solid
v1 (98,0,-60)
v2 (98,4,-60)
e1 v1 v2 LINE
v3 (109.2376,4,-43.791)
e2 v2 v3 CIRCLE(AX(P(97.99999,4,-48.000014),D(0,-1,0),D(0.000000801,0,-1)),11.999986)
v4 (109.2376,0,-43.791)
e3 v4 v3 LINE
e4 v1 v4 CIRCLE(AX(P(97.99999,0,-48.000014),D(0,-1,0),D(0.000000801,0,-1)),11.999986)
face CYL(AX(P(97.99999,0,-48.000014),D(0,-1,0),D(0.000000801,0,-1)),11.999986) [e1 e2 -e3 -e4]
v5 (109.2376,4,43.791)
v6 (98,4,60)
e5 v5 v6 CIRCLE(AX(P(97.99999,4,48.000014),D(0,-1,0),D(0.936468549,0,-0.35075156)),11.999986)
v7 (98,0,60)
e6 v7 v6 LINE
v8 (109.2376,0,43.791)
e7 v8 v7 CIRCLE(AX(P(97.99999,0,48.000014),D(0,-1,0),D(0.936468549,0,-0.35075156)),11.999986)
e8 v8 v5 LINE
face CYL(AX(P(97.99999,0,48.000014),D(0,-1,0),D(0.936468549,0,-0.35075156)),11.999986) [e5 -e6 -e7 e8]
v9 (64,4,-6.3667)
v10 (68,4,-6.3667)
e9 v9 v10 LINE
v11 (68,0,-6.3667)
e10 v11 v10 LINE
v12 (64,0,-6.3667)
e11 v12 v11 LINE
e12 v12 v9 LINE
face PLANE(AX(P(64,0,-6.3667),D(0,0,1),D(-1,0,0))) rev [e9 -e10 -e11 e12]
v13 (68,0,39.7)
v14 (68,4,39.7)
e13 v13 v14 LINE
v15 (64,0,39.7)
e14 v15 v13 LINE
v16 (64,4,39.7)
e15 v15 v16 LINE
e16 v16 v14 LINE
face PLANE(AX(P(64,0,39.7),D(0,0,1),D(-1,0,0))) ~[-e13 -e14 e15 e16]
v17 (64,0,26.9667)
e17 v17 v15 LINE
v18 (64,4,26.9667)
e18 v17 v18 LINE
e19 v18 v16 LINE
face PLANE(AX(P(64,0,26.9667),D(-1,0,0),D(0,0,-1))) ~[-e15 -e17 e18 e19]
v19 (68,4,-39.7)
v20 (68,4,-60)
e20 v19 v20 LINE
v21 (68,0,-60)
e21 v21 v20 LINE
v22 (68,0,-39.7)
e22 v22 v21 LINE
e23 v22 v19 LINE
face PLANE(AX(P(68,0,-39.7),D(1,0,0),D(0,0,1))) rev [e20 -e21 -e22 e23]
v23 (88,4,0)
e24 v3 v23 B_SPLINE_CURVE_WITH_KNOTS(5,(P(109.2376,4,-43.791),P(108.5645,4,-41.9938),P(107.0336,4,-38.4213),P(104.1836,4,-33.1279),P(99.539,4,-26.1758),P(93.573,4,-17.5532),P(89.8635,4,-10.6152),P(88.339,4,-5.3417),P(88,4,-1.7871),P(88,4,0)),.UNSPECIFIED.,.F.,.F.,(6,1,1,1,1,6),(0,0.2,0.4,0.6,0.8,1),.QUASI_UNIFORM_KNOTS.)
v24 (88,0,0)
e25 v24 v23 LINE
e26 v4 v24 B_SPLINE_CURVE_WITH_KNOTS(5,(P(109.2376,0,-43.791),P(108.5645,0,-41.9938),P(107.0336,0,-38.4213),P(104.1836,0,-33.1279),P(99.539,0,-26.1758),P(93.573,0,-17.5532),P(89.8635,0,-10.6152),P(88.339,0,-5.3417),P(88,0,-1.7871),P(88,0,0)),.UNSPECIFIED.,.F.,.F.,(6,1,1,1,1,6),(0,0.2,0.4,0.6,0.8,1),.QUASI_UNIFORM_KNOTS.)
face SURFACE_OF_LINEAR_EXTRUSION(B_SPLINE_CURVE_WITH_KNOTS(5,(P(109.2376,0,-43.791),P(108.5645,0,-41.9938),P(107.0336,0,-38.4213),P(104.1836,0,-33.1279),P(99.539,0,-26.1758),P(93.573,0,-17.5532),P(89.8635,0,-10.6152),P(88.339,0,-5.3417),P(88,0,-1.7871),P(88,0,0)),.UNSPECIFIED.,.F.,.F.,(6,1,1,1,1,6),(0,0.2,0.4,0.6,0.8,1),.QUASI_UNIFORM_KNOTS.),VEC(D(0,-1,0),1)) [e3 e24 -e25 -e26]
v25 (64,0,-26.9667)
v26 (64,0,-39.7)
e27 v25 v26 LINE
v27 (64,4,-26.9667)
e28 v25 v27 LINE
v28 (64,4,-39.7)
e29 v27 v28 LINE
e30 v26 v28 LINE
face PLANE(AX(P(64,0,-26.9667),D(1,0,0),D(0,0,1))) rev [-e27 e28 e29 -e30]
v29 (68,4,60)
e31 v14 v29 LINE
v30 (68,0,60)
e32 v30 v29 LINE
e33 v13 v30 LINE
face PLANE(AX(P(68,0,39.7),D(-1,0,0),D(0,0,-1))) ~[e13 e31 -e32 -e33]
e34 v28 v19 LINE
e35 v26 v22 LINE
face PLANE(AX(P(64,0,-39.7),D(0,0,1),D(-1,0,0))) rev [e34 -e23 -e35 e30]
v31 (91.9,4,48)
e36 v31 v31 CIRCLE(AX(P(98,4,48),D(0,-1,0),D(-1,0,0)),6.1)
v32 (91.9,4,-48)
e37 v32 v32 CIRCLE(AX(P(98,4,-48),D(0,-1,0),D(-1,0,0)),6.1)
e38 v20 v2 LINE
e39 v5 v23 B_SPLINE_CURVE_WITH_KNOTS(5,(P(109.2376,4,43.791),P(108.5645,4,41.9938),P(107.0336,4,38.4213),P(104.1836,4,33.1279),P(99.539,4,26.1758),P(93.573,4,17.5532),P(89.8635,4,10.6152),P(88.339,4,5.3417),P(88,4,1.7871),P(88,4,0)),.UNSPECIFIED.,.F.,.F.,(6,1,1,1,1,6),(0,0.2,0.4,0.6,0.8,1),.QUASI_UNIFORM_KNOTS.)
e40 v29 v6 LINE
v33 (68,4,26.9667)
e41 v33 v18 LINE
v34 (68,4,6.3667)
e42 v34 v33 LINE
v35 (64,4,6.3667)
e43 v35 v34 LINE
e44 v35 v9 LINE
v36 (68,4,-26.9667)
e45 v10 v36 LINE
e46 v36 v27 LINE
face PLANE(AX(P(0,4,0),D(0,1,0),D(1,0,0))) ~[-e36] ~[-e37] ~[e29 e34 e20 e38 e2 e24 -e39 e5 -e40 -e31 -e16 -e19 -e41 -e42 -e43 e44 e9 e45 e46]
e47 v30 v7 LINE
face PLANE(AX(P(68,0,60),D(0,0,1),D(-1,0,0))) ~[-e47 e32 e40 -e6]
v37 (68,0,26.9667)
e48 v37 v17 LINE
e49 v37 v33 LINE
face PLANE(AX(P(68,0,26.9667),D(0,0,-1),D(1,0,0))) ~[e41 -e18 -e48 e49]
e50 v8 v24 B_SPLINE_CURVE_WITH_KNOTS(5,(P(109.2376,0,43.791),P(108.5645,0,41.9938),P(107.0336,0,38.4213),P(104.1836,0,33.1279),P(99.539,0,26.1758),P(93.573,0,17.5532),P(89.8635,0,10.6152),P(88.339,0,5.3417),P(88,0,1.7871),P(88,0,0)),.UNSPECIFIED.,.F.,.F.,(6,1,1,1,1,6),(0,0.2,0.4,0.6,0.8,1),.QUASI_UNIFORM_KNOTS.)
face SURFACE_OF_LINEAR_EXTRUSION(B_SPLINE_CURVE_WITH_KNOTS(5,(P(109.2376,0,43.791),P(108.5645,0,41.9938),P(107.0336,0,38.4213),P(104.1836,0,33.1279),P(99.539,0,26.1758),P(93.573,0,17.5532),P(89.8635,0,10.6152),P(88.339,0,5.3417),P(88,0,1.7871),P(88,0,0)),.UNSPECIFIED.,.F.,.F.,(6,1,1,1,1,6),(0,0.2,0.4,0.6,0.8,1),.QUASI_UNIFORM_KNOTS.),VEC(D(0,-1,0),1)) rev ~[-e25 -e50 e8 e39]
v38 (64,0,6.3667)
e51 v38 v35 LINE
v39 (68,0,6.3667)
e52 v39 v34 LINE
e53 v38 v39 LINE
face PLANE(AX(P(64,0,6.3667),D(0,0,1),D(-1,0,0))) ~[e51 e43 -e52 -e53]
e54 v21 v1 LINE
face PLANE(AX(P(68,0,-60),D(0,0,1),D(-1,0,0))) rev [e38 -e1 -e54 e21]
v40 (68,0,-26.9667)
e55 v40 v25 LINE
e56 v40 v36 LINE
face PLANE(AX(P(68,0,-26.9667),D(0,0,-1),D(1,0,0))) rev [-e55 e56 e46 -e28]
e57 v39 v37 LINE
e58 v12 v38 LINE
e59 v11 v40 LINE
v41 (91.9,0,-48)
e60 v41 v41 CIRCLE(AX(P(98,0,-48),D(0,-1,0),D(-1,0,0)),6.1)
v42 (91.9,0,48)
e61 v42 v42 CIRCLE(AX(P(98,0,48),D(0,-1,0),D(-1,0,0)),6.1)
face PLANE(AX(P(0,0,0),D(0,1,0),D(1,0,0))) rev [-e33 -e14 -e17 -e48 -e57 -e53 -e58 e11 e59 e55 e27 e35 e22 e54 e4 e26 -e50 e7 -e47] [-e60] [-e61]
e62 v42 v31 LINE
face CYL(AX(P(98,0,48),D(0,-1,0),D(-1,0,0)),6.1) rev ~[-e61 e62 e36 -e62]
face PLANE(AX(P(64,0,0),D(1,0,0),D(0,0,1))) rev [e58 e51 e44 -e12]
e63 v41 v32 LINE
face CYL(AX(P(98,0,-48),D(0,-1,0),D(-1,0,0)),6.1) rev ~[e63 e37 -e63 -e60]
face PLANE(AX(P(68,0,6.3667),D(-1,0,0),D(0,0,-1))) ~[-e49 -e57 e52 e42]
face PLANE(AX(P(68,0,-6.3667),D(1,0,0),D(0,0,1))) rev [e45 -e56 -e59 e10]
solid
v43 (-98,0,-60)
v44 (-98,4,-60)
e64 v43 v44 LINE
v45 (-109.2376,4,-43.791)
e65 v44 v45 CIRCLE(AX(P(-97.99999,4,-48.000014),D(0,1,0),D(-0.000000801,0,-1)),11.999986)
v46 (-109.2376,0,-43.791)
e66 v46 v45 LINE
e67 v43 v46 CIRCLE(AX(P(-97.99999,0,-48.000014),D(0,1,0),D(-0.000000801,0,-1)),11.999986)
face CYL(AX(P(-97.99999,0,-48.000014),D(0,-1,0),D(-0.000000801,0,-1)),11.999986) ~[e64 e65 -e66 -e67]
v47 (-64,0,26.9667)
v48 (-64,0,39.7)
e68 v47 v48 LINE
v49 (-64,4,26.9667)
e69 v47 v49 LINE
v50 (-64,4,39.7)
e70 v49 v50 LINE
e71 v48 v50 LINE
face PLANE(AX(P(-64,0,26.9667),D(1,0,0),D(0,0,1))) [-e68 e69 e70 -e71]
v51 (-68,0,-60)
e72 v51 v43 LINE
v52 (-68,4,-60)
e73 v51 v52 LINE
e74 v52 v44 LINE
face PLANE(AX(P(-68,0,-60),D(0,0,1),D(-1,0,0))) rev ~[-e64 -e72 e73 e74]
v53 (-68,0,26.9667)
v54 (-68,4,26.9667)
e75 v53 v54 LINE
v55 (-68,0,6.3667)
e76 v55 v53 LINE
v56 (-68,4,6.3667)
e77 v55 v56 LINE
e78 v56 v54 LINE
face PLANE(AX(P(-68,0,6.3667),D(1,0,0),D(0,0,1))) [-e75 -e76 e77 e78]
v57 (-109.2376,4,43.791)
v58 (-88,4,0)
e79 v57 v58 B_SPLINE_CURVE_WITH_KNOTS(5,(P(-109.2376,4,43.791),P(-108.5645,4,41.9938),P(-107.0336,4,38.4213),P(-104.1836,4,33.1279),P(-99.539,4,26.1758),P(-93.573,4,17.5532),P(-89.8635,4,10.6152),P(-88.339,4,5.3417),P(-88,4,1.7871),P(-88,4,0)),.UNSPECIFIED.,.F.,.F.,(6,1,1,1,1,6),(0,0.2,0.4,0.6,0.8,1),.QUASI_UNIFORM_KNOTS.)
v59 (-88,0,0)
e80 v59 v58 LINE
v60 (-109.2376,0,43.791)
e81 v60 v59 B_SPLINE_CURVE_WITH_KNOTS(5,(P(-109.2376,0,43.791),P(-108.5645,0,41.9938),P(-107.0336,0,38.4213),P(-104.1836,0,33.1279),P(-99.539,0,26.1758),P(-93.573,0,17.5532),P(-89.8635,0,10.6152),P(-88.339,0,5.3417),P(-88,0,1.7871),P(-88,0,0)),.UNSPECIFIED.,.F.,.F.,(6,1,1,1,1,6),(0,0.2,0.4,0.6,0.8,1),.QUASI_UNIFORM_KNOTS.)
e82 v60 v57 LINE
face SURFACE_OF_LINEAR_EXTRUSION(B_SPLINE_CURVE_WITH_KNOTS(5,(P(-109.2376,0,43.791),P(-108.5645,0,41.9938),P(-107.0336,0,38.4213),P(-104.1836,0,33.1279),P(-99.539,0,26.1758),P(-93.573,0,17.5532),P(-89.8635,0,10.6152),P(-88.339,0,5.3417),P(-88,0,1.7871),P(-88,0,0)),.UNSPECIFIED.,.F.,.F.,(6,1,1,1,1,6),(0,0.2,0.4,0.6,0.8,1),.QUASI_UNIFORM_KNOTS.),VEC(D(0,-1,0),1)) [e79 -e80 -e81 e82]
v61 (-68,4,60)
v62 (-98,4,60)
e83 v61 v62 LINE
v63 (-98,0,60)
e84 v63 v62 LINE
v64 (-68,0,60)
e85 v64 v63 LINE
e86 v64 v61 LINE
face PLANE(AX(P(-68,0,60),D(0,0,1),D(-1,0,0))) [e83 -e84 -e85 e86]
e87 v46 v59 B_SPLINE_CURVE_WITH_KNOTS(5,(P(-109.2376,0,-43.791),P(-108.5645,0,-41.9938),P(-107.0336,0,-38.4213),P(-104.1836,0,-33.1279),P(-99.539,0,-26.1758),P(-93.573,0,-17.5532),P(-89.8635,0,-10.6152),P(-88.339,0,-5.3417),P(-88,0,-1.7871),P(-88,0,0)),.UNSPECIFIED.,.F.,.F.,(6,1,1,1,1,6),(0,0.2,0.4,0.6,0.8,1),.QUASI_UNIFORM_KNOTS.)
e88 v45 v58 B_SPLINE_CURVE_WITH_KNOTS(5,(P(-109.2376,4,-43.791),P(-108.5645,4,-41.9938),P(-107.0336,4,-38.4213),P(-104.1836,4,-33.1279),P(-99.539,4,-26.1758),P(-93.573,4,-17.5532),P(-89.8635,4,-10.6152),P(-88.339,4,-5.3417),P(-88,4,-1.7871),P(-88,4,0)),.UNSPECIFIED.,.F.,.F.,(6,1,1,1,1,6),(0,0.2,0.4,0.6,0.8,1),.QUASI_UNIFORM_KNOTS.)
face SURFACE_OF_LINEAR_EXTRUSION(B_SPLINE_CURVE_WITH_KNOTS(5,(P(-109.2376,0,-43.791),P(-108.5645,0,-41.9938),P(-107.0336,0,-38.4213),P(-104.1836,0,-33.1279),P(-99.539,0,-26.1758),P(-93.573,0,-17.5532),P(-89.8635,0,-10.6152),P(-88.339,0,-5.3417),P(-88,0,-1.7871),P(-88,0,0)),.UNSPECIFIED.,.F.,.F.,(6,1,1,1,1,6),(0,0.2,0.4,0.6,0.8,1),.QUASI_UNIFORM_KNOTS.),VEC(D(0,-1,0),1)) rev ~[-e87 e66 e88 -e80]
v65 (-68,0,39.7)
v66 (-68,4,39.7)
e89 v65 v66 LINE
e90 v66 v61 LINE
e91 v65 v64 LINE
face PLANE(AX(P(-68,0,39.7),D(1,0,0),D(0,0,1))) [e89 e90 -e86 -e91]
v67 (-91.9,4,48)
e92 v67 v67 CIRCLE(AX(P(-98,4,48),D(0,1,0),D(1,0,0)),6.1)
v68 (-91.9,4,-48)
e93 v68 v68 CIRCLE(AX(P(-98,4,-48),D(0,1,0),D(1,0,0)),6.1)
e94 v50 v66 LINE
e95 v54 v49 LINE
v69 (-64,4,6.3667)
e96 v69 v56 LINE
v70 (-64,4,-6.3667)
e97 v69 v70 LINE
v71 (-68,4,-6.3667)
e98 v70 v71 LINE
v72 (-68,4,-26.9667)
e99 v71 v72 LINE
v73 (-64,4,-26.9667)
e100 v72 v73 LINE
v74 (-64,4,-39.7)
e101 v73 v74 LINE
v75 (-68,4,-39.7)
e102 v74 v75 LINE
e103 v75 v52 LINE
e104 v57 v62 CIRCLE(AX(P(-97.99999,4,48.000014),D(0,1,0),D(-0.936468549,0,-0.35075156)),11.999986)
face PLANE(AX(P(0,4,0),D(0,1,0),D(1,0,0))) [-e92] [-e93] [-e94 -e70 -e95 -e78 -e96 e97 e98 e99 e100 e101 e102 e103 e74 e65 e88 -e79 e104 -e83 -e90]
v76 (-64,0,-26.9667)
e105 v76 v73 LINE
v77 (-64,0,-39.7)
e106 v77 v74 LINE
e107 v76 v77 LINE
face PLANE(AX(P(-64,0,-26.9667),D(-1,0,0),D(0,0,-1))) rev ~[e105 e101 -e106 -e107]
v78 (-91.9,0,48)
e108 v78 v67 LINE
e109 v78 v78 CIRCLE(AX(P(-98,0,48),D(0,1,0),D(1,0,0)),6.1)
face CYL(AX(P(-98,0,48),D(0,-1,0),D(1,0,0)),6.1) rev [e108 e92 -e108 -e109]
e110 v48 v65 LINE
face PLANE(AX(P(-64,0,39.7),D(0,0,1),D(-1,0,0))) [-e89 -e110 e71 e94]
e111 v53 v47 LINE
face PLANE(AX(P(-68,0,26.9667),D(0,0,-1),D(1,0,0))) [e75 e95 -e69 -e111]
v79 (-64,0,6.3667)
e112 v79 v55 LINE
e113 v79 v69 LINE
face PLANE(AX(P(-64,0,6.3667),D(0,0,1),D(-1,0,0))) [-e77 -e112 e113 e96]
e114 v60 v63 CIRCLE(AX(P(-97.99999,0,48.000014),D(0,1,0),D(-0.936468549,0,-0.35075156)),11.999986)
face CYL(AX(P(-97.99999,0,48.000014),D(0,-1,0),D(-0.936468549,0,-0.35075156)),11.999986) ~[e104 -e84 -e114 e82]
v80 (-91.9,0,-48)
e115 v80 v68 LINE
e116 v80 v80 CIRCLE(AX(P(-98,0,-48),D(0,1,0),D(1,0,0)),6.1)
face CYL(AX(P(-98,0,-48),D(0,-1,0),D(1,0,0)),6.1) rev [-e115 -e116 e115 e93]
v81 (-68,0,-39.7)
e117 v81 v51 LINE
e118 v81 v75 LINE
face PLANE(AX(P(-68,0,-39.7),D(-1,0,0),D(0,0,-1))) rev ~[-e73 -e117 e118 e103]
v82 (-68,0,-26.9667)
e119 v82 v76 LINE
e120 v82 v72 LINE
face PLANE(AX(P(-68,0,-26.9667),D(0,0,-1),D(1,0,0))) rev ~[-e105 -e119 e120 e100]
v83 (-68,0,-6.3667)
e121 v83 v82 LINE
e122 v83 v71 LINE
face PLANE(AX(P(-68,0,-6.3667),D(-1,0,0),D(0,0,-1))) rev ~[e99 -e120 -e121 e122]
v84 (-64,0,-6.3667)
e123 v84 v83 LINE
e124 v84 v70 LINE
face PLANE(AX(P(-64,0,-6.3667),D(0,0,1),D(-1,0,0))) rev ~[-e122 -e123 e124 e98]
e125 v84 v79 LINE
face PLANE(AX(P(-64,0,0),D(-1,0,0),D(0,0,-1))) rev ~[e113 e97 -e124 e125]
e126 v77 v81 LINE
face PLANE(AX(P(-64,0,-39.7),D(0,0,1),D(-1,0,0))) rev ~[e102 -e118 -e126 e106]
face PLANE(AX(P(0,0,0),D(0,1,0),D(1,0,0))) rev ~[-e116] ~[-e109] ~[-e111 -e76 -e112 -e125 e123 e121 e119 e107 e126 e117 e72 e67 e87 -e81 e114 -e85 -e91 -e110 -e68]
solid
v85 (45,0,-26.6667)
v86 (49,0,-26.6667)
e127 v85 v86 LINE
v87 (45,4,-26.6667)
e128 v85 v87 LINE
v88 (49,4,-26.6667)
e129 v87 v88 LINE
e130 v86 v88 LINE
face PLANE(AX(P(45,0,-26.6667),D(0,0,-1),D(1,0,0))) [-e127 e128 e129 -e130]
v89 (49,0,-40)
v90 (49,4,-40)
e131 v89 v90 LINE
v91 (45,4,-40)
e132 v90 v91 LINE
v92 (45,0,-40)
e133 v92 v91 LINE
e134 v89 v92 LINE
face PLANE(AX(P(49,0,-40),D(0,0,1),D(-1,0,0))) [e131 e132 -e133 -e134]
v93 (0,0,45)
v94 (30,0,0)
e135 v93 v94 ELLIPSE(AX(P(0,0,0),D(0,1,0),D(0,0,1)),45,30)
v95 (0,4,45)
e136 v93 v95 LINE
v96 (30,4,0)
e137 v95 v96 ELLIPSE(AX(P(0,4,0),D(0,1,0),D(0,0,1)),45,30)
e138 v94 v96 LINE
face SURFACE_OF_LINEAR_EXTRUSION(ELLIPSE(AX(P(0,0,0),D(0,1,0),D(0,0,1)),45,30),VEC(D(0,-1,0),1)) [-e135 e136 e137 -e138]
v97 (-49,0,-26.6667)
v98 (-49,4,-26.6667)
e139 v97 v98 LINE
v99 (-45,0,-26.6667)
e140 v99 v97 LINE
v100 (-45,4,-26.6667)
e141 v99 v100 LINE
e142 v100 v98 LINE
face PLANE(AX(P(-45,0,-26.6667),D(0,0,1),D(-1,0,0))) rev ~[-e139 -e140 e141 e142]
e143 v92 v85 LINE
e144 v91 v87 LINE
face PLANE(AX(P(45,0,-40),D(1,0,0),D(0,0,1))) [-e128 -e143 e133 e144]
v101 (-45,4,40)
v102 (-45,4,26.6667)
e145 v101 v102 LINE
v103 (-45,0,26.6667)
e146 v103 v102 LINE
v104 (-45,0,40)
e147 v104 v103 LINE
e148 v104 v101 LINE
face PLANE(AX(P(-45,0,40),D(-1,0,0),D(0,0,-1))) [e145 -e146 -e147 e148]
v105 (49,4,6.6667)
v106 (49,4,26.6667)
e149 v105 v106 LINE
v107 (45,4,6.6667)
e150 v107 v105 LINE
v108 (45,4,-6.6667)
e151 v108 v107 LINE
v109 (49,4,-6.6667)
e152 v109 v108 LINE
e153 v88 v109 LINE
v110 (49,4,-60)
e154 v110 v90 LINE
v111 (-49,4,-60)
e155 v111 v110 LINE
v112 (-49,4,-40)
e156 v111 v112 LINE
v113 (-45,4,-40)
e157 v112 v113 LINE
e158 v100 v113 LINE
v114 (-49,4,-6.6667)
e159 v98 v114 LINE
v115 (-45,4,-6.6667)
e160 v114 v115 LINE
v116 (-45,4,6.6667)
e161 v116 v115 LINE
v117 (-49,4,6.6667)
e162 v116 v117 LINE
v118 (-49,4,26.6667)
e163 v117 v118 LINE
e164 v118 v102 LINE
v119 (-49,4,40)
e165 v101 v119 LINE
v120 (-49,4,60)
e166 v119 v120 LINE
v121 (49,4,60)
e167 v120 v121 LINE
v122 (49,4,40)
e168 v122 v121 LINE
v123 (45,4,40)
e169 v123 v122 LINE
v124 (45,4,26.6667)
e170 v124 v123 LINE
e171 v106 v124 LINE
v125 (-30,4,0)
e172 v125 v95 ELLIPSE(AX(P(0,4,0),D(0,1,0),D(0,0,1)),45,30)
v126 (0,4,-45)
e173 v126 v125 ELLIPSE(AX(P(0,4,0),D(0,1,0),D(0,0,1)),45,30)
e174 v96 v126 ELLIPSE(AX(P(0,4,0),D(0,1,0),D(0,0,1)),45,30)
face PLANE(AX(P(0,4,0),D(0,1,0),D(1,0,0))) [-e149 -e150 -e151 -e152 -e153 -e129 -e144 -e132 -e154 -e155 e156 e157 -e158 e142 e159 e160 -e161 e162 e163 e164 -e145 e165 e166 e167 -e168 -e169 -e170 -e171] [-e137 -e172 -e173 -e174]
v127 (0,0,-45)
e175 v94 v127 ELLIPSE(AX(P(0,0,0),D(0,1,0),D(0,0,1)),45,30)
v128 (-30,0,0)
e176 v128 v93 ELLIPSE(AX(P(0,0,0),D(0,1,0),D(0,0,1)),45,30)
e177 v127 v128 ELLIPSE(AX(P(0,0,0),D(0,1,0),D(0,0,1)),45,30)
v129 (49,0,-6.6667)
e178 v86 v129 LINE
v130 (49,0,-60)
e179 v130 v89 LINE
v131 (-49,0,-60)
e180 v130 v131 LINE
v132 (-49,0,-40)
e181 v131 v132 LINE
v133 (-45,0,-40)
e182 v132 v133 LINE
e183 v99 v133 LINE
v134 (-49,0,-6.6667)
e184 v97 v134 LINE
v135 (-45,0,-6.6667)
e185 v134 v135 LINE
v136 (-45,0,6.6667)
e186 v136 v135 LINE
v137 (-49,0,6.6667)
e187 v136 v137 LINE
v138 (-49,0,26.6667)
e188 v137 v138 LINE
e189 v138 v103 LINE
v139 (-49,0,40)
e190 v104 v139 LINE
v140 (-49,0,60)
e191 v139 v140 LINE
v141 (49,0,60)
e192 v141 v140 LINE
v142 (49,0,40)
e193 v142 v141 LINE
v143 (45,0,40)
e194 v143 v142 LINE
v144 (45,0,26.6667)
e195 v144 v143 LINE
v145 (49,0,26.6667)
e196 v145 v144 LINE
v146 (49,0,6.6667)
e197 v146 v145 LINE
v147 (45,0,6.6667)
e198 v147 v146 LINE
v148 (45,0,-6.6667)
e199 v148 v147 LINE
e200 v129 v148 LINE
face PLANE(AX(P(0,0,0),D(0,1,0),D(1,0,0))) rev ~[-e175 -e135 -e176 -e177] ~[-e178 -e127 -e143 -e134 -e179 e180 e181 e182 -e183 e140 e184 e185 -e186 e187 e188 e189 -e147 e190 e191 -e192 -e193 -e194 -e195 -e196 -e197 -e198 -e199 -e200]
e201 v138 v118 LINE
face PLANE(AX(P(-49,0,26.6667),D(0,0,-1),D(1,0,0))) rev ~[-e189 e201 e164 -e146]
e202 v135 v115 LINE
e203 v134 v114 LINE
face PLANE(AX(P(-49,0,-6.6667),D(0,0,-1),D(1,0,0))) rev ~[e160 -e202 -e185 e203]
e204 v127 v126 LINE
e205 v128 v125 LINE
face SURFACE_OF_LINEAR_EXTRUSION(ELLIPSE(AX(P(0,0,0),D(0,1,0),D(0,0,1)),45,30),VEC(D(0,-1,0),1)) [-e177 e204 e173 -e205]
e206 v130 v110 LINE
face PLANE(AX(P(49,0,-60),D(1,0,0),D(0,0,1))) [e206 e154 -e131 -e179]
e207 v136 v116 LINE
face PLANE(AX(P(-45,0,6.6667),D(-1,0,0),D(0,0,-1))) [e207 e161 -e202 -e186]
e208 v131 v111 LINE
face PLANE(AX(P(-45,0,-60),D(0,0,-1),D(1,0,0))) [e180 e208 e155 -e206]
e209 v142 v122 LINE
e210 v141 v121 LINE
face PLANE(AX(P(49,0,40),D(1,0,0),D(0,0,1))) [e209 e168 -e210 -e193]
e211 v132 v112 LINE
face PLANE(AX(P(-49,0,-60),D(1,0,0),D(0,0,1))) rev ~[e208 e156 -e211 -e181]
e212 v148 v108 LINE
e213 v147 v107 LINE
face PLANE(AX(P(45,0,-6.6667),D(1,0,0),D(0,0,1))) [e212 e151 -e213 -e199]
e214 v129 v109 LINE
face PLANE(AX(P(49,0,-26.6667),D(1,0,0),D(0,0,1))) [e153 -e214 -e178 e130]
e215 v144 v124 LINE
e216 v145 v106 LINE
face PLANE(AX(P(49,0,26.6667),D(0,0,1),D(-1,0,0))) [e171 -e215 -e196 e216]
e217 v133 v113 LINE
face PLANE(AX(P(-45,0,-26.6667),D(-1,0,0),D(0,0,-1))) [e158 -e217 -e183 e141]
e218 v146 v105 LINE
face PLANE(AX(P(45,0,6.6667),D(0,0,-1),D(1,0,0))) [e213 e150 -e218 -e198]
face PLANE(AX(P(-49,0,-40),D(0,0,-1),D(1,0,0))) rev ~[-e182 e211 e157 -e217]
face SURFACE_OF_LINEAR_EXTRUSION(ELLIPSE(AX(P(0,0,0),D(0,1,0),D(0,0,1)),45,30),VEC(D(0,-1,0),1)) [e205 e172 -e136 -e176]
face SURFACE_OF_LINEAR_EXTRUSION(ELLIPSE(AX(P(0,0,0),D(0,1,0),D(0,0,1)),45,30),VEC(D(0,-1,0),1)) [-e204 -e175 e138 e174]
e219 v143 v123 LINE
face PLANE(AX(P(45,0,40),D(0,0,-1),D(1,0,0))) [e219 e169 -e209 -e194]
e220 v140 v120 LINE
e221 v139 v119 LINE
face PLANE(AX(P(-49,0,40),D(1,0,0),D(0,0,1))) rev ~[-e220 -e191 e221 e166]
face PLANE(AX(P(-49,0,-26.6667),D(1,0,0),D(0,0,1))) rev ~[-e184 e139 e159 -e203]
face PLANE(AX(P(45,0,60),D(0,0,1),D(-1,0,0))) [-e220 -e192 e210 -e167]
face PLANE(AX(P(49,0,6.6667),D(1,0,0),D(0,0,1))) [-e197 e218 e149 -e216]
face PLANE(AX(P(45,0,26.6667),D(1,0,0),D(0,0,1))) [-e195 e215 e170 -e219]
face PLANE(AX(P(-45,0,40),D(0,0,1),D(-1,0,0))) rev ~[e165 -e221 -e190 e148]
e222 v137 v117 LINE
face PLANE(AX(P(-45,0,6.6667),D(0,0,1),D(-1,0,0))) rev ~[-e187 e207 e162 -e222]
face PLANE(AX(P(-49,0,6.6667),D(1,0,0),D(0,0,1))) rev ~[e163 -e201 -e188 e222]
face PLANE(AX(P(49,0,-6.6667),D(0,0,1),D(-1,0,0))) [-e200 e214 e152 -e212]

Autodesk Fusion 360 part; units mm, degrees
sketch "Skizze1" plane through (0, 0, 0) normal (0, 1, 0) x (1, 0, 0)
  line L0 (-45, 60) -> (45, 60)
  line L1 (45, 60) -> (45, -60)
  line L2 (45, -60) -> (-45, -60)
  line L3 (-45, -60) -> (-45, 60)
  line L4 (-45, 60) -> (45, -60) construction
  line L5 (45, 60) -> (-45, -60) construction
  line L6 (-45, 60) -> (-49, 60)
  line L7 (-49, 60) -> (-49, 40)
  line L8 (-49, 40) -> (-45, 40)
  line L9 (-45, 40) -> (-45, 60)
  line L10 (-49, 26.6667) -> (-49, 6.6667)
  line L11 (-45, 6.6667) -> (-45, 26.6667)
  line L12 (-45, 26.6667) -> (-49, 26.6667)
  line L13 (-49, 6.6667) -> (-45, 6.6667)
  line L14 (-49, -6.6667) -> (-49, -26.6667)
  line L15 (-45, -26.6667) -> (-45, -6.6667)
  line L16 (-45, -6.6667) -> (-49, -6.6667)
  line L17 (-49, -26.6667) -> (-45, -26.6667)
  line L18 (-49, -40) -> (-49, -60)
  line L19 (-45, -60) -> (-45, -40)
  line L20 (-45, -40) -> (-49, -40)
  line L21 (-49, -60) -> (-45, -60)
  line L22 (0, -1.75) -> (0, -22.5)
  line L23 (45, -40) -> (49, -40)
  line L24 (45, 60) -> (49, 60)
  line L25 (45, 6.6667) -> (45, 26.6667)
  line L26 (49, -26.6667) -> (45, -26.6667)
  line L27 (49, 40) -> (45, 40)
  line L28 (49, -60) -> (45, -60)
  line L29 (45, -60) -> (45, -40)
  line L30 (45, -60) -> (45, 60)
  line L31 (45, 26.6667) -> (49, 26.6667)
  line L32 (49, 6.6667) -> (45, 6.6667)
  line L33 (49, -6.6667) -> (49, -26.6667)
  line L34 (49, 60) -> (49, 40)
  line L35 (45, -6.6667) -> (49, -6.6667)
  line L36 (49, -40) -> (49, -60)
  line L37 (45, -26.6667) -> (45, -6.6667)
  line L38 (45, 40) -> (45, 60)
  line L39 (49, 26.6667) -> (49, 6.6667)
  ellipse E0 centre (0, 0) end of major axis (0, -45) minor radius 30
  line L40 (0, 45) -> (0, -45)
  line L41 (-30, 0) -> (30, 0)
  dimension "d1" = 90
  dimension "d2" = 120
  dimension "d3" = 4
  dimension "d4" = 20
  dimension "d7" = 0
  dimension "d8" = -100
  dimension "d9" = 60
  dimension "d10" = 45
extrude "Extrusion1" add sketch "Skizze1" along normal blind 4 makes body 1
sketch "Skizze2" plane through (0, 0, 0) normal (0, 1, 0) x (1, 0, 0)
  line L0 (-68, 0) -> (-68, 60)
  line L1 (-68, 60) -> (-98, 60)
  arc A0 (-98, 60) -> (-109.2376, 43.791) centre (-98, 48) ccw
  line L2 (-68, 0) -> (-88, 0)
  spline S0 degree 5 poles (-109.2376, 43.791) (-108.5645, 41.9938) (-107.0336, 38.4213) (-104.1836, 33.1279) (-99.539, 26.1758) (-93.573, 17.5532) (-89.8635, 10.6152) (-88.339, 5.3417) (-88, 1.7871) (-88, 0) knots 0 0 0 0 0 0 0.2 0.4 0.6 0.8 1 1 1 1 1 1
  line L3 (-111.0492, 48.6279) -> (-107.4261, 38.9542)
  line L4 (-88, 4.59) -> (-88, -4.59)
  line L5 (49, 60) -> (-49, 60)
  circle A1 centre (-98, 48) radius 6.1
  line L6 (-68, 0) -> (-64, 0)
  line L7 (-64, 0) -> (-64, 6.3667)
  line L8 (-64, 6.3667) -> (-68, 6.3667)
  line L9 (-68, 6.3667) -> (-68, 0)
  line L10 (-68, 26.9667) -> (-64, 26.9667)
  line L11 (-64, 26.9667) -> (-64, 39.7)
  line L12 (-64, 39.7) -> (-68, 39.7)
  line L13 (-68, 39.7) -> (-68, 26.9667)
  line L14 (-49, 6.6667) -> (-45, 6.6667)
  line L15 (-45, 26.6667) -> (-49, 26.6667)
  line L16 (-49, 40) -> (-45, 40)
  line L17 (1.75, 0) -> (22.5, 0)
  line L18 (-64, -26.9667) -> (-64, -39.7)
  line L19 (-68, -6.3667) -> (-68, 0)
  line L20 (-64, -39.7) -> (-68, -39.7)
  line L21 (-68, -60) -> (-98, -60)
  line L22 (-111.0492, -48.6279) -> (-107.4261, -38.9542)
  line L23 (-88, -4.59) -> (-88, 4.59)
  line L24 (-68, 0) -> (-88, 0)
  line L25 (-64, 0) -> (-64, -6.3667)
  spline S1 degree 5 poles (-109.2376, -43.791) (-108.5645, -41.9938) (-107.0336, -38.4213) (-104.1836, -33.1279) (-99.539, -26.1758) (-93.573, -17.5532) (-89.8635, -10.6152) (-88.339, -5.3417) (-88, -1.7871) (-88, 0) knots 0 0 0 0 0 0 0.2 0.4 0.6 0.8 1 1 1 1 1 1
  line L26 (-111.0492, -48.6279) -> (-107.4261, -38.9542)
  line L27 (-88, -4.59) -> (-88, 4.59)
  line L28 (-68, -39.7) -> (-68, -26.9667)
  line L29 (-68, 0) -> (-68, -60)
  circle A2 centre (-98, -48) radius 6.1
  arc A3 (-109.2376, -43.791) -> (-98, -60) centre (-98, -48) ccw
  line L30 (-68, 0) -> (-64, 0)
  line L31 (-64, -6.3667) -> (-68, -6.3667)
  line L32 (-68, -26.9667) -> (-64, -26.9667)
  line L33 (-49, 60) -> (-49, 40)
  dimension "d13" = 12.2
  dimension "d14" = 12
  dimension "d15" = 20
  dimension "d18" = 30
  dimension "d19" = 4
  dimension "d20" = 0.3
  dimension "d21" = 0.3
  dimension "d22" = 0.3
  dimension "d27" = 15
extrude "Extrusion2" add sketch "Skizze2" along normal blind 4 separate body makes body 2
mirror "Spiegeln1" about plane through (0, 0, 0) normal (1, 0, 0) of bodies 2 makes body 3
equation "d21 = d20"
equation "d22 = d20"
